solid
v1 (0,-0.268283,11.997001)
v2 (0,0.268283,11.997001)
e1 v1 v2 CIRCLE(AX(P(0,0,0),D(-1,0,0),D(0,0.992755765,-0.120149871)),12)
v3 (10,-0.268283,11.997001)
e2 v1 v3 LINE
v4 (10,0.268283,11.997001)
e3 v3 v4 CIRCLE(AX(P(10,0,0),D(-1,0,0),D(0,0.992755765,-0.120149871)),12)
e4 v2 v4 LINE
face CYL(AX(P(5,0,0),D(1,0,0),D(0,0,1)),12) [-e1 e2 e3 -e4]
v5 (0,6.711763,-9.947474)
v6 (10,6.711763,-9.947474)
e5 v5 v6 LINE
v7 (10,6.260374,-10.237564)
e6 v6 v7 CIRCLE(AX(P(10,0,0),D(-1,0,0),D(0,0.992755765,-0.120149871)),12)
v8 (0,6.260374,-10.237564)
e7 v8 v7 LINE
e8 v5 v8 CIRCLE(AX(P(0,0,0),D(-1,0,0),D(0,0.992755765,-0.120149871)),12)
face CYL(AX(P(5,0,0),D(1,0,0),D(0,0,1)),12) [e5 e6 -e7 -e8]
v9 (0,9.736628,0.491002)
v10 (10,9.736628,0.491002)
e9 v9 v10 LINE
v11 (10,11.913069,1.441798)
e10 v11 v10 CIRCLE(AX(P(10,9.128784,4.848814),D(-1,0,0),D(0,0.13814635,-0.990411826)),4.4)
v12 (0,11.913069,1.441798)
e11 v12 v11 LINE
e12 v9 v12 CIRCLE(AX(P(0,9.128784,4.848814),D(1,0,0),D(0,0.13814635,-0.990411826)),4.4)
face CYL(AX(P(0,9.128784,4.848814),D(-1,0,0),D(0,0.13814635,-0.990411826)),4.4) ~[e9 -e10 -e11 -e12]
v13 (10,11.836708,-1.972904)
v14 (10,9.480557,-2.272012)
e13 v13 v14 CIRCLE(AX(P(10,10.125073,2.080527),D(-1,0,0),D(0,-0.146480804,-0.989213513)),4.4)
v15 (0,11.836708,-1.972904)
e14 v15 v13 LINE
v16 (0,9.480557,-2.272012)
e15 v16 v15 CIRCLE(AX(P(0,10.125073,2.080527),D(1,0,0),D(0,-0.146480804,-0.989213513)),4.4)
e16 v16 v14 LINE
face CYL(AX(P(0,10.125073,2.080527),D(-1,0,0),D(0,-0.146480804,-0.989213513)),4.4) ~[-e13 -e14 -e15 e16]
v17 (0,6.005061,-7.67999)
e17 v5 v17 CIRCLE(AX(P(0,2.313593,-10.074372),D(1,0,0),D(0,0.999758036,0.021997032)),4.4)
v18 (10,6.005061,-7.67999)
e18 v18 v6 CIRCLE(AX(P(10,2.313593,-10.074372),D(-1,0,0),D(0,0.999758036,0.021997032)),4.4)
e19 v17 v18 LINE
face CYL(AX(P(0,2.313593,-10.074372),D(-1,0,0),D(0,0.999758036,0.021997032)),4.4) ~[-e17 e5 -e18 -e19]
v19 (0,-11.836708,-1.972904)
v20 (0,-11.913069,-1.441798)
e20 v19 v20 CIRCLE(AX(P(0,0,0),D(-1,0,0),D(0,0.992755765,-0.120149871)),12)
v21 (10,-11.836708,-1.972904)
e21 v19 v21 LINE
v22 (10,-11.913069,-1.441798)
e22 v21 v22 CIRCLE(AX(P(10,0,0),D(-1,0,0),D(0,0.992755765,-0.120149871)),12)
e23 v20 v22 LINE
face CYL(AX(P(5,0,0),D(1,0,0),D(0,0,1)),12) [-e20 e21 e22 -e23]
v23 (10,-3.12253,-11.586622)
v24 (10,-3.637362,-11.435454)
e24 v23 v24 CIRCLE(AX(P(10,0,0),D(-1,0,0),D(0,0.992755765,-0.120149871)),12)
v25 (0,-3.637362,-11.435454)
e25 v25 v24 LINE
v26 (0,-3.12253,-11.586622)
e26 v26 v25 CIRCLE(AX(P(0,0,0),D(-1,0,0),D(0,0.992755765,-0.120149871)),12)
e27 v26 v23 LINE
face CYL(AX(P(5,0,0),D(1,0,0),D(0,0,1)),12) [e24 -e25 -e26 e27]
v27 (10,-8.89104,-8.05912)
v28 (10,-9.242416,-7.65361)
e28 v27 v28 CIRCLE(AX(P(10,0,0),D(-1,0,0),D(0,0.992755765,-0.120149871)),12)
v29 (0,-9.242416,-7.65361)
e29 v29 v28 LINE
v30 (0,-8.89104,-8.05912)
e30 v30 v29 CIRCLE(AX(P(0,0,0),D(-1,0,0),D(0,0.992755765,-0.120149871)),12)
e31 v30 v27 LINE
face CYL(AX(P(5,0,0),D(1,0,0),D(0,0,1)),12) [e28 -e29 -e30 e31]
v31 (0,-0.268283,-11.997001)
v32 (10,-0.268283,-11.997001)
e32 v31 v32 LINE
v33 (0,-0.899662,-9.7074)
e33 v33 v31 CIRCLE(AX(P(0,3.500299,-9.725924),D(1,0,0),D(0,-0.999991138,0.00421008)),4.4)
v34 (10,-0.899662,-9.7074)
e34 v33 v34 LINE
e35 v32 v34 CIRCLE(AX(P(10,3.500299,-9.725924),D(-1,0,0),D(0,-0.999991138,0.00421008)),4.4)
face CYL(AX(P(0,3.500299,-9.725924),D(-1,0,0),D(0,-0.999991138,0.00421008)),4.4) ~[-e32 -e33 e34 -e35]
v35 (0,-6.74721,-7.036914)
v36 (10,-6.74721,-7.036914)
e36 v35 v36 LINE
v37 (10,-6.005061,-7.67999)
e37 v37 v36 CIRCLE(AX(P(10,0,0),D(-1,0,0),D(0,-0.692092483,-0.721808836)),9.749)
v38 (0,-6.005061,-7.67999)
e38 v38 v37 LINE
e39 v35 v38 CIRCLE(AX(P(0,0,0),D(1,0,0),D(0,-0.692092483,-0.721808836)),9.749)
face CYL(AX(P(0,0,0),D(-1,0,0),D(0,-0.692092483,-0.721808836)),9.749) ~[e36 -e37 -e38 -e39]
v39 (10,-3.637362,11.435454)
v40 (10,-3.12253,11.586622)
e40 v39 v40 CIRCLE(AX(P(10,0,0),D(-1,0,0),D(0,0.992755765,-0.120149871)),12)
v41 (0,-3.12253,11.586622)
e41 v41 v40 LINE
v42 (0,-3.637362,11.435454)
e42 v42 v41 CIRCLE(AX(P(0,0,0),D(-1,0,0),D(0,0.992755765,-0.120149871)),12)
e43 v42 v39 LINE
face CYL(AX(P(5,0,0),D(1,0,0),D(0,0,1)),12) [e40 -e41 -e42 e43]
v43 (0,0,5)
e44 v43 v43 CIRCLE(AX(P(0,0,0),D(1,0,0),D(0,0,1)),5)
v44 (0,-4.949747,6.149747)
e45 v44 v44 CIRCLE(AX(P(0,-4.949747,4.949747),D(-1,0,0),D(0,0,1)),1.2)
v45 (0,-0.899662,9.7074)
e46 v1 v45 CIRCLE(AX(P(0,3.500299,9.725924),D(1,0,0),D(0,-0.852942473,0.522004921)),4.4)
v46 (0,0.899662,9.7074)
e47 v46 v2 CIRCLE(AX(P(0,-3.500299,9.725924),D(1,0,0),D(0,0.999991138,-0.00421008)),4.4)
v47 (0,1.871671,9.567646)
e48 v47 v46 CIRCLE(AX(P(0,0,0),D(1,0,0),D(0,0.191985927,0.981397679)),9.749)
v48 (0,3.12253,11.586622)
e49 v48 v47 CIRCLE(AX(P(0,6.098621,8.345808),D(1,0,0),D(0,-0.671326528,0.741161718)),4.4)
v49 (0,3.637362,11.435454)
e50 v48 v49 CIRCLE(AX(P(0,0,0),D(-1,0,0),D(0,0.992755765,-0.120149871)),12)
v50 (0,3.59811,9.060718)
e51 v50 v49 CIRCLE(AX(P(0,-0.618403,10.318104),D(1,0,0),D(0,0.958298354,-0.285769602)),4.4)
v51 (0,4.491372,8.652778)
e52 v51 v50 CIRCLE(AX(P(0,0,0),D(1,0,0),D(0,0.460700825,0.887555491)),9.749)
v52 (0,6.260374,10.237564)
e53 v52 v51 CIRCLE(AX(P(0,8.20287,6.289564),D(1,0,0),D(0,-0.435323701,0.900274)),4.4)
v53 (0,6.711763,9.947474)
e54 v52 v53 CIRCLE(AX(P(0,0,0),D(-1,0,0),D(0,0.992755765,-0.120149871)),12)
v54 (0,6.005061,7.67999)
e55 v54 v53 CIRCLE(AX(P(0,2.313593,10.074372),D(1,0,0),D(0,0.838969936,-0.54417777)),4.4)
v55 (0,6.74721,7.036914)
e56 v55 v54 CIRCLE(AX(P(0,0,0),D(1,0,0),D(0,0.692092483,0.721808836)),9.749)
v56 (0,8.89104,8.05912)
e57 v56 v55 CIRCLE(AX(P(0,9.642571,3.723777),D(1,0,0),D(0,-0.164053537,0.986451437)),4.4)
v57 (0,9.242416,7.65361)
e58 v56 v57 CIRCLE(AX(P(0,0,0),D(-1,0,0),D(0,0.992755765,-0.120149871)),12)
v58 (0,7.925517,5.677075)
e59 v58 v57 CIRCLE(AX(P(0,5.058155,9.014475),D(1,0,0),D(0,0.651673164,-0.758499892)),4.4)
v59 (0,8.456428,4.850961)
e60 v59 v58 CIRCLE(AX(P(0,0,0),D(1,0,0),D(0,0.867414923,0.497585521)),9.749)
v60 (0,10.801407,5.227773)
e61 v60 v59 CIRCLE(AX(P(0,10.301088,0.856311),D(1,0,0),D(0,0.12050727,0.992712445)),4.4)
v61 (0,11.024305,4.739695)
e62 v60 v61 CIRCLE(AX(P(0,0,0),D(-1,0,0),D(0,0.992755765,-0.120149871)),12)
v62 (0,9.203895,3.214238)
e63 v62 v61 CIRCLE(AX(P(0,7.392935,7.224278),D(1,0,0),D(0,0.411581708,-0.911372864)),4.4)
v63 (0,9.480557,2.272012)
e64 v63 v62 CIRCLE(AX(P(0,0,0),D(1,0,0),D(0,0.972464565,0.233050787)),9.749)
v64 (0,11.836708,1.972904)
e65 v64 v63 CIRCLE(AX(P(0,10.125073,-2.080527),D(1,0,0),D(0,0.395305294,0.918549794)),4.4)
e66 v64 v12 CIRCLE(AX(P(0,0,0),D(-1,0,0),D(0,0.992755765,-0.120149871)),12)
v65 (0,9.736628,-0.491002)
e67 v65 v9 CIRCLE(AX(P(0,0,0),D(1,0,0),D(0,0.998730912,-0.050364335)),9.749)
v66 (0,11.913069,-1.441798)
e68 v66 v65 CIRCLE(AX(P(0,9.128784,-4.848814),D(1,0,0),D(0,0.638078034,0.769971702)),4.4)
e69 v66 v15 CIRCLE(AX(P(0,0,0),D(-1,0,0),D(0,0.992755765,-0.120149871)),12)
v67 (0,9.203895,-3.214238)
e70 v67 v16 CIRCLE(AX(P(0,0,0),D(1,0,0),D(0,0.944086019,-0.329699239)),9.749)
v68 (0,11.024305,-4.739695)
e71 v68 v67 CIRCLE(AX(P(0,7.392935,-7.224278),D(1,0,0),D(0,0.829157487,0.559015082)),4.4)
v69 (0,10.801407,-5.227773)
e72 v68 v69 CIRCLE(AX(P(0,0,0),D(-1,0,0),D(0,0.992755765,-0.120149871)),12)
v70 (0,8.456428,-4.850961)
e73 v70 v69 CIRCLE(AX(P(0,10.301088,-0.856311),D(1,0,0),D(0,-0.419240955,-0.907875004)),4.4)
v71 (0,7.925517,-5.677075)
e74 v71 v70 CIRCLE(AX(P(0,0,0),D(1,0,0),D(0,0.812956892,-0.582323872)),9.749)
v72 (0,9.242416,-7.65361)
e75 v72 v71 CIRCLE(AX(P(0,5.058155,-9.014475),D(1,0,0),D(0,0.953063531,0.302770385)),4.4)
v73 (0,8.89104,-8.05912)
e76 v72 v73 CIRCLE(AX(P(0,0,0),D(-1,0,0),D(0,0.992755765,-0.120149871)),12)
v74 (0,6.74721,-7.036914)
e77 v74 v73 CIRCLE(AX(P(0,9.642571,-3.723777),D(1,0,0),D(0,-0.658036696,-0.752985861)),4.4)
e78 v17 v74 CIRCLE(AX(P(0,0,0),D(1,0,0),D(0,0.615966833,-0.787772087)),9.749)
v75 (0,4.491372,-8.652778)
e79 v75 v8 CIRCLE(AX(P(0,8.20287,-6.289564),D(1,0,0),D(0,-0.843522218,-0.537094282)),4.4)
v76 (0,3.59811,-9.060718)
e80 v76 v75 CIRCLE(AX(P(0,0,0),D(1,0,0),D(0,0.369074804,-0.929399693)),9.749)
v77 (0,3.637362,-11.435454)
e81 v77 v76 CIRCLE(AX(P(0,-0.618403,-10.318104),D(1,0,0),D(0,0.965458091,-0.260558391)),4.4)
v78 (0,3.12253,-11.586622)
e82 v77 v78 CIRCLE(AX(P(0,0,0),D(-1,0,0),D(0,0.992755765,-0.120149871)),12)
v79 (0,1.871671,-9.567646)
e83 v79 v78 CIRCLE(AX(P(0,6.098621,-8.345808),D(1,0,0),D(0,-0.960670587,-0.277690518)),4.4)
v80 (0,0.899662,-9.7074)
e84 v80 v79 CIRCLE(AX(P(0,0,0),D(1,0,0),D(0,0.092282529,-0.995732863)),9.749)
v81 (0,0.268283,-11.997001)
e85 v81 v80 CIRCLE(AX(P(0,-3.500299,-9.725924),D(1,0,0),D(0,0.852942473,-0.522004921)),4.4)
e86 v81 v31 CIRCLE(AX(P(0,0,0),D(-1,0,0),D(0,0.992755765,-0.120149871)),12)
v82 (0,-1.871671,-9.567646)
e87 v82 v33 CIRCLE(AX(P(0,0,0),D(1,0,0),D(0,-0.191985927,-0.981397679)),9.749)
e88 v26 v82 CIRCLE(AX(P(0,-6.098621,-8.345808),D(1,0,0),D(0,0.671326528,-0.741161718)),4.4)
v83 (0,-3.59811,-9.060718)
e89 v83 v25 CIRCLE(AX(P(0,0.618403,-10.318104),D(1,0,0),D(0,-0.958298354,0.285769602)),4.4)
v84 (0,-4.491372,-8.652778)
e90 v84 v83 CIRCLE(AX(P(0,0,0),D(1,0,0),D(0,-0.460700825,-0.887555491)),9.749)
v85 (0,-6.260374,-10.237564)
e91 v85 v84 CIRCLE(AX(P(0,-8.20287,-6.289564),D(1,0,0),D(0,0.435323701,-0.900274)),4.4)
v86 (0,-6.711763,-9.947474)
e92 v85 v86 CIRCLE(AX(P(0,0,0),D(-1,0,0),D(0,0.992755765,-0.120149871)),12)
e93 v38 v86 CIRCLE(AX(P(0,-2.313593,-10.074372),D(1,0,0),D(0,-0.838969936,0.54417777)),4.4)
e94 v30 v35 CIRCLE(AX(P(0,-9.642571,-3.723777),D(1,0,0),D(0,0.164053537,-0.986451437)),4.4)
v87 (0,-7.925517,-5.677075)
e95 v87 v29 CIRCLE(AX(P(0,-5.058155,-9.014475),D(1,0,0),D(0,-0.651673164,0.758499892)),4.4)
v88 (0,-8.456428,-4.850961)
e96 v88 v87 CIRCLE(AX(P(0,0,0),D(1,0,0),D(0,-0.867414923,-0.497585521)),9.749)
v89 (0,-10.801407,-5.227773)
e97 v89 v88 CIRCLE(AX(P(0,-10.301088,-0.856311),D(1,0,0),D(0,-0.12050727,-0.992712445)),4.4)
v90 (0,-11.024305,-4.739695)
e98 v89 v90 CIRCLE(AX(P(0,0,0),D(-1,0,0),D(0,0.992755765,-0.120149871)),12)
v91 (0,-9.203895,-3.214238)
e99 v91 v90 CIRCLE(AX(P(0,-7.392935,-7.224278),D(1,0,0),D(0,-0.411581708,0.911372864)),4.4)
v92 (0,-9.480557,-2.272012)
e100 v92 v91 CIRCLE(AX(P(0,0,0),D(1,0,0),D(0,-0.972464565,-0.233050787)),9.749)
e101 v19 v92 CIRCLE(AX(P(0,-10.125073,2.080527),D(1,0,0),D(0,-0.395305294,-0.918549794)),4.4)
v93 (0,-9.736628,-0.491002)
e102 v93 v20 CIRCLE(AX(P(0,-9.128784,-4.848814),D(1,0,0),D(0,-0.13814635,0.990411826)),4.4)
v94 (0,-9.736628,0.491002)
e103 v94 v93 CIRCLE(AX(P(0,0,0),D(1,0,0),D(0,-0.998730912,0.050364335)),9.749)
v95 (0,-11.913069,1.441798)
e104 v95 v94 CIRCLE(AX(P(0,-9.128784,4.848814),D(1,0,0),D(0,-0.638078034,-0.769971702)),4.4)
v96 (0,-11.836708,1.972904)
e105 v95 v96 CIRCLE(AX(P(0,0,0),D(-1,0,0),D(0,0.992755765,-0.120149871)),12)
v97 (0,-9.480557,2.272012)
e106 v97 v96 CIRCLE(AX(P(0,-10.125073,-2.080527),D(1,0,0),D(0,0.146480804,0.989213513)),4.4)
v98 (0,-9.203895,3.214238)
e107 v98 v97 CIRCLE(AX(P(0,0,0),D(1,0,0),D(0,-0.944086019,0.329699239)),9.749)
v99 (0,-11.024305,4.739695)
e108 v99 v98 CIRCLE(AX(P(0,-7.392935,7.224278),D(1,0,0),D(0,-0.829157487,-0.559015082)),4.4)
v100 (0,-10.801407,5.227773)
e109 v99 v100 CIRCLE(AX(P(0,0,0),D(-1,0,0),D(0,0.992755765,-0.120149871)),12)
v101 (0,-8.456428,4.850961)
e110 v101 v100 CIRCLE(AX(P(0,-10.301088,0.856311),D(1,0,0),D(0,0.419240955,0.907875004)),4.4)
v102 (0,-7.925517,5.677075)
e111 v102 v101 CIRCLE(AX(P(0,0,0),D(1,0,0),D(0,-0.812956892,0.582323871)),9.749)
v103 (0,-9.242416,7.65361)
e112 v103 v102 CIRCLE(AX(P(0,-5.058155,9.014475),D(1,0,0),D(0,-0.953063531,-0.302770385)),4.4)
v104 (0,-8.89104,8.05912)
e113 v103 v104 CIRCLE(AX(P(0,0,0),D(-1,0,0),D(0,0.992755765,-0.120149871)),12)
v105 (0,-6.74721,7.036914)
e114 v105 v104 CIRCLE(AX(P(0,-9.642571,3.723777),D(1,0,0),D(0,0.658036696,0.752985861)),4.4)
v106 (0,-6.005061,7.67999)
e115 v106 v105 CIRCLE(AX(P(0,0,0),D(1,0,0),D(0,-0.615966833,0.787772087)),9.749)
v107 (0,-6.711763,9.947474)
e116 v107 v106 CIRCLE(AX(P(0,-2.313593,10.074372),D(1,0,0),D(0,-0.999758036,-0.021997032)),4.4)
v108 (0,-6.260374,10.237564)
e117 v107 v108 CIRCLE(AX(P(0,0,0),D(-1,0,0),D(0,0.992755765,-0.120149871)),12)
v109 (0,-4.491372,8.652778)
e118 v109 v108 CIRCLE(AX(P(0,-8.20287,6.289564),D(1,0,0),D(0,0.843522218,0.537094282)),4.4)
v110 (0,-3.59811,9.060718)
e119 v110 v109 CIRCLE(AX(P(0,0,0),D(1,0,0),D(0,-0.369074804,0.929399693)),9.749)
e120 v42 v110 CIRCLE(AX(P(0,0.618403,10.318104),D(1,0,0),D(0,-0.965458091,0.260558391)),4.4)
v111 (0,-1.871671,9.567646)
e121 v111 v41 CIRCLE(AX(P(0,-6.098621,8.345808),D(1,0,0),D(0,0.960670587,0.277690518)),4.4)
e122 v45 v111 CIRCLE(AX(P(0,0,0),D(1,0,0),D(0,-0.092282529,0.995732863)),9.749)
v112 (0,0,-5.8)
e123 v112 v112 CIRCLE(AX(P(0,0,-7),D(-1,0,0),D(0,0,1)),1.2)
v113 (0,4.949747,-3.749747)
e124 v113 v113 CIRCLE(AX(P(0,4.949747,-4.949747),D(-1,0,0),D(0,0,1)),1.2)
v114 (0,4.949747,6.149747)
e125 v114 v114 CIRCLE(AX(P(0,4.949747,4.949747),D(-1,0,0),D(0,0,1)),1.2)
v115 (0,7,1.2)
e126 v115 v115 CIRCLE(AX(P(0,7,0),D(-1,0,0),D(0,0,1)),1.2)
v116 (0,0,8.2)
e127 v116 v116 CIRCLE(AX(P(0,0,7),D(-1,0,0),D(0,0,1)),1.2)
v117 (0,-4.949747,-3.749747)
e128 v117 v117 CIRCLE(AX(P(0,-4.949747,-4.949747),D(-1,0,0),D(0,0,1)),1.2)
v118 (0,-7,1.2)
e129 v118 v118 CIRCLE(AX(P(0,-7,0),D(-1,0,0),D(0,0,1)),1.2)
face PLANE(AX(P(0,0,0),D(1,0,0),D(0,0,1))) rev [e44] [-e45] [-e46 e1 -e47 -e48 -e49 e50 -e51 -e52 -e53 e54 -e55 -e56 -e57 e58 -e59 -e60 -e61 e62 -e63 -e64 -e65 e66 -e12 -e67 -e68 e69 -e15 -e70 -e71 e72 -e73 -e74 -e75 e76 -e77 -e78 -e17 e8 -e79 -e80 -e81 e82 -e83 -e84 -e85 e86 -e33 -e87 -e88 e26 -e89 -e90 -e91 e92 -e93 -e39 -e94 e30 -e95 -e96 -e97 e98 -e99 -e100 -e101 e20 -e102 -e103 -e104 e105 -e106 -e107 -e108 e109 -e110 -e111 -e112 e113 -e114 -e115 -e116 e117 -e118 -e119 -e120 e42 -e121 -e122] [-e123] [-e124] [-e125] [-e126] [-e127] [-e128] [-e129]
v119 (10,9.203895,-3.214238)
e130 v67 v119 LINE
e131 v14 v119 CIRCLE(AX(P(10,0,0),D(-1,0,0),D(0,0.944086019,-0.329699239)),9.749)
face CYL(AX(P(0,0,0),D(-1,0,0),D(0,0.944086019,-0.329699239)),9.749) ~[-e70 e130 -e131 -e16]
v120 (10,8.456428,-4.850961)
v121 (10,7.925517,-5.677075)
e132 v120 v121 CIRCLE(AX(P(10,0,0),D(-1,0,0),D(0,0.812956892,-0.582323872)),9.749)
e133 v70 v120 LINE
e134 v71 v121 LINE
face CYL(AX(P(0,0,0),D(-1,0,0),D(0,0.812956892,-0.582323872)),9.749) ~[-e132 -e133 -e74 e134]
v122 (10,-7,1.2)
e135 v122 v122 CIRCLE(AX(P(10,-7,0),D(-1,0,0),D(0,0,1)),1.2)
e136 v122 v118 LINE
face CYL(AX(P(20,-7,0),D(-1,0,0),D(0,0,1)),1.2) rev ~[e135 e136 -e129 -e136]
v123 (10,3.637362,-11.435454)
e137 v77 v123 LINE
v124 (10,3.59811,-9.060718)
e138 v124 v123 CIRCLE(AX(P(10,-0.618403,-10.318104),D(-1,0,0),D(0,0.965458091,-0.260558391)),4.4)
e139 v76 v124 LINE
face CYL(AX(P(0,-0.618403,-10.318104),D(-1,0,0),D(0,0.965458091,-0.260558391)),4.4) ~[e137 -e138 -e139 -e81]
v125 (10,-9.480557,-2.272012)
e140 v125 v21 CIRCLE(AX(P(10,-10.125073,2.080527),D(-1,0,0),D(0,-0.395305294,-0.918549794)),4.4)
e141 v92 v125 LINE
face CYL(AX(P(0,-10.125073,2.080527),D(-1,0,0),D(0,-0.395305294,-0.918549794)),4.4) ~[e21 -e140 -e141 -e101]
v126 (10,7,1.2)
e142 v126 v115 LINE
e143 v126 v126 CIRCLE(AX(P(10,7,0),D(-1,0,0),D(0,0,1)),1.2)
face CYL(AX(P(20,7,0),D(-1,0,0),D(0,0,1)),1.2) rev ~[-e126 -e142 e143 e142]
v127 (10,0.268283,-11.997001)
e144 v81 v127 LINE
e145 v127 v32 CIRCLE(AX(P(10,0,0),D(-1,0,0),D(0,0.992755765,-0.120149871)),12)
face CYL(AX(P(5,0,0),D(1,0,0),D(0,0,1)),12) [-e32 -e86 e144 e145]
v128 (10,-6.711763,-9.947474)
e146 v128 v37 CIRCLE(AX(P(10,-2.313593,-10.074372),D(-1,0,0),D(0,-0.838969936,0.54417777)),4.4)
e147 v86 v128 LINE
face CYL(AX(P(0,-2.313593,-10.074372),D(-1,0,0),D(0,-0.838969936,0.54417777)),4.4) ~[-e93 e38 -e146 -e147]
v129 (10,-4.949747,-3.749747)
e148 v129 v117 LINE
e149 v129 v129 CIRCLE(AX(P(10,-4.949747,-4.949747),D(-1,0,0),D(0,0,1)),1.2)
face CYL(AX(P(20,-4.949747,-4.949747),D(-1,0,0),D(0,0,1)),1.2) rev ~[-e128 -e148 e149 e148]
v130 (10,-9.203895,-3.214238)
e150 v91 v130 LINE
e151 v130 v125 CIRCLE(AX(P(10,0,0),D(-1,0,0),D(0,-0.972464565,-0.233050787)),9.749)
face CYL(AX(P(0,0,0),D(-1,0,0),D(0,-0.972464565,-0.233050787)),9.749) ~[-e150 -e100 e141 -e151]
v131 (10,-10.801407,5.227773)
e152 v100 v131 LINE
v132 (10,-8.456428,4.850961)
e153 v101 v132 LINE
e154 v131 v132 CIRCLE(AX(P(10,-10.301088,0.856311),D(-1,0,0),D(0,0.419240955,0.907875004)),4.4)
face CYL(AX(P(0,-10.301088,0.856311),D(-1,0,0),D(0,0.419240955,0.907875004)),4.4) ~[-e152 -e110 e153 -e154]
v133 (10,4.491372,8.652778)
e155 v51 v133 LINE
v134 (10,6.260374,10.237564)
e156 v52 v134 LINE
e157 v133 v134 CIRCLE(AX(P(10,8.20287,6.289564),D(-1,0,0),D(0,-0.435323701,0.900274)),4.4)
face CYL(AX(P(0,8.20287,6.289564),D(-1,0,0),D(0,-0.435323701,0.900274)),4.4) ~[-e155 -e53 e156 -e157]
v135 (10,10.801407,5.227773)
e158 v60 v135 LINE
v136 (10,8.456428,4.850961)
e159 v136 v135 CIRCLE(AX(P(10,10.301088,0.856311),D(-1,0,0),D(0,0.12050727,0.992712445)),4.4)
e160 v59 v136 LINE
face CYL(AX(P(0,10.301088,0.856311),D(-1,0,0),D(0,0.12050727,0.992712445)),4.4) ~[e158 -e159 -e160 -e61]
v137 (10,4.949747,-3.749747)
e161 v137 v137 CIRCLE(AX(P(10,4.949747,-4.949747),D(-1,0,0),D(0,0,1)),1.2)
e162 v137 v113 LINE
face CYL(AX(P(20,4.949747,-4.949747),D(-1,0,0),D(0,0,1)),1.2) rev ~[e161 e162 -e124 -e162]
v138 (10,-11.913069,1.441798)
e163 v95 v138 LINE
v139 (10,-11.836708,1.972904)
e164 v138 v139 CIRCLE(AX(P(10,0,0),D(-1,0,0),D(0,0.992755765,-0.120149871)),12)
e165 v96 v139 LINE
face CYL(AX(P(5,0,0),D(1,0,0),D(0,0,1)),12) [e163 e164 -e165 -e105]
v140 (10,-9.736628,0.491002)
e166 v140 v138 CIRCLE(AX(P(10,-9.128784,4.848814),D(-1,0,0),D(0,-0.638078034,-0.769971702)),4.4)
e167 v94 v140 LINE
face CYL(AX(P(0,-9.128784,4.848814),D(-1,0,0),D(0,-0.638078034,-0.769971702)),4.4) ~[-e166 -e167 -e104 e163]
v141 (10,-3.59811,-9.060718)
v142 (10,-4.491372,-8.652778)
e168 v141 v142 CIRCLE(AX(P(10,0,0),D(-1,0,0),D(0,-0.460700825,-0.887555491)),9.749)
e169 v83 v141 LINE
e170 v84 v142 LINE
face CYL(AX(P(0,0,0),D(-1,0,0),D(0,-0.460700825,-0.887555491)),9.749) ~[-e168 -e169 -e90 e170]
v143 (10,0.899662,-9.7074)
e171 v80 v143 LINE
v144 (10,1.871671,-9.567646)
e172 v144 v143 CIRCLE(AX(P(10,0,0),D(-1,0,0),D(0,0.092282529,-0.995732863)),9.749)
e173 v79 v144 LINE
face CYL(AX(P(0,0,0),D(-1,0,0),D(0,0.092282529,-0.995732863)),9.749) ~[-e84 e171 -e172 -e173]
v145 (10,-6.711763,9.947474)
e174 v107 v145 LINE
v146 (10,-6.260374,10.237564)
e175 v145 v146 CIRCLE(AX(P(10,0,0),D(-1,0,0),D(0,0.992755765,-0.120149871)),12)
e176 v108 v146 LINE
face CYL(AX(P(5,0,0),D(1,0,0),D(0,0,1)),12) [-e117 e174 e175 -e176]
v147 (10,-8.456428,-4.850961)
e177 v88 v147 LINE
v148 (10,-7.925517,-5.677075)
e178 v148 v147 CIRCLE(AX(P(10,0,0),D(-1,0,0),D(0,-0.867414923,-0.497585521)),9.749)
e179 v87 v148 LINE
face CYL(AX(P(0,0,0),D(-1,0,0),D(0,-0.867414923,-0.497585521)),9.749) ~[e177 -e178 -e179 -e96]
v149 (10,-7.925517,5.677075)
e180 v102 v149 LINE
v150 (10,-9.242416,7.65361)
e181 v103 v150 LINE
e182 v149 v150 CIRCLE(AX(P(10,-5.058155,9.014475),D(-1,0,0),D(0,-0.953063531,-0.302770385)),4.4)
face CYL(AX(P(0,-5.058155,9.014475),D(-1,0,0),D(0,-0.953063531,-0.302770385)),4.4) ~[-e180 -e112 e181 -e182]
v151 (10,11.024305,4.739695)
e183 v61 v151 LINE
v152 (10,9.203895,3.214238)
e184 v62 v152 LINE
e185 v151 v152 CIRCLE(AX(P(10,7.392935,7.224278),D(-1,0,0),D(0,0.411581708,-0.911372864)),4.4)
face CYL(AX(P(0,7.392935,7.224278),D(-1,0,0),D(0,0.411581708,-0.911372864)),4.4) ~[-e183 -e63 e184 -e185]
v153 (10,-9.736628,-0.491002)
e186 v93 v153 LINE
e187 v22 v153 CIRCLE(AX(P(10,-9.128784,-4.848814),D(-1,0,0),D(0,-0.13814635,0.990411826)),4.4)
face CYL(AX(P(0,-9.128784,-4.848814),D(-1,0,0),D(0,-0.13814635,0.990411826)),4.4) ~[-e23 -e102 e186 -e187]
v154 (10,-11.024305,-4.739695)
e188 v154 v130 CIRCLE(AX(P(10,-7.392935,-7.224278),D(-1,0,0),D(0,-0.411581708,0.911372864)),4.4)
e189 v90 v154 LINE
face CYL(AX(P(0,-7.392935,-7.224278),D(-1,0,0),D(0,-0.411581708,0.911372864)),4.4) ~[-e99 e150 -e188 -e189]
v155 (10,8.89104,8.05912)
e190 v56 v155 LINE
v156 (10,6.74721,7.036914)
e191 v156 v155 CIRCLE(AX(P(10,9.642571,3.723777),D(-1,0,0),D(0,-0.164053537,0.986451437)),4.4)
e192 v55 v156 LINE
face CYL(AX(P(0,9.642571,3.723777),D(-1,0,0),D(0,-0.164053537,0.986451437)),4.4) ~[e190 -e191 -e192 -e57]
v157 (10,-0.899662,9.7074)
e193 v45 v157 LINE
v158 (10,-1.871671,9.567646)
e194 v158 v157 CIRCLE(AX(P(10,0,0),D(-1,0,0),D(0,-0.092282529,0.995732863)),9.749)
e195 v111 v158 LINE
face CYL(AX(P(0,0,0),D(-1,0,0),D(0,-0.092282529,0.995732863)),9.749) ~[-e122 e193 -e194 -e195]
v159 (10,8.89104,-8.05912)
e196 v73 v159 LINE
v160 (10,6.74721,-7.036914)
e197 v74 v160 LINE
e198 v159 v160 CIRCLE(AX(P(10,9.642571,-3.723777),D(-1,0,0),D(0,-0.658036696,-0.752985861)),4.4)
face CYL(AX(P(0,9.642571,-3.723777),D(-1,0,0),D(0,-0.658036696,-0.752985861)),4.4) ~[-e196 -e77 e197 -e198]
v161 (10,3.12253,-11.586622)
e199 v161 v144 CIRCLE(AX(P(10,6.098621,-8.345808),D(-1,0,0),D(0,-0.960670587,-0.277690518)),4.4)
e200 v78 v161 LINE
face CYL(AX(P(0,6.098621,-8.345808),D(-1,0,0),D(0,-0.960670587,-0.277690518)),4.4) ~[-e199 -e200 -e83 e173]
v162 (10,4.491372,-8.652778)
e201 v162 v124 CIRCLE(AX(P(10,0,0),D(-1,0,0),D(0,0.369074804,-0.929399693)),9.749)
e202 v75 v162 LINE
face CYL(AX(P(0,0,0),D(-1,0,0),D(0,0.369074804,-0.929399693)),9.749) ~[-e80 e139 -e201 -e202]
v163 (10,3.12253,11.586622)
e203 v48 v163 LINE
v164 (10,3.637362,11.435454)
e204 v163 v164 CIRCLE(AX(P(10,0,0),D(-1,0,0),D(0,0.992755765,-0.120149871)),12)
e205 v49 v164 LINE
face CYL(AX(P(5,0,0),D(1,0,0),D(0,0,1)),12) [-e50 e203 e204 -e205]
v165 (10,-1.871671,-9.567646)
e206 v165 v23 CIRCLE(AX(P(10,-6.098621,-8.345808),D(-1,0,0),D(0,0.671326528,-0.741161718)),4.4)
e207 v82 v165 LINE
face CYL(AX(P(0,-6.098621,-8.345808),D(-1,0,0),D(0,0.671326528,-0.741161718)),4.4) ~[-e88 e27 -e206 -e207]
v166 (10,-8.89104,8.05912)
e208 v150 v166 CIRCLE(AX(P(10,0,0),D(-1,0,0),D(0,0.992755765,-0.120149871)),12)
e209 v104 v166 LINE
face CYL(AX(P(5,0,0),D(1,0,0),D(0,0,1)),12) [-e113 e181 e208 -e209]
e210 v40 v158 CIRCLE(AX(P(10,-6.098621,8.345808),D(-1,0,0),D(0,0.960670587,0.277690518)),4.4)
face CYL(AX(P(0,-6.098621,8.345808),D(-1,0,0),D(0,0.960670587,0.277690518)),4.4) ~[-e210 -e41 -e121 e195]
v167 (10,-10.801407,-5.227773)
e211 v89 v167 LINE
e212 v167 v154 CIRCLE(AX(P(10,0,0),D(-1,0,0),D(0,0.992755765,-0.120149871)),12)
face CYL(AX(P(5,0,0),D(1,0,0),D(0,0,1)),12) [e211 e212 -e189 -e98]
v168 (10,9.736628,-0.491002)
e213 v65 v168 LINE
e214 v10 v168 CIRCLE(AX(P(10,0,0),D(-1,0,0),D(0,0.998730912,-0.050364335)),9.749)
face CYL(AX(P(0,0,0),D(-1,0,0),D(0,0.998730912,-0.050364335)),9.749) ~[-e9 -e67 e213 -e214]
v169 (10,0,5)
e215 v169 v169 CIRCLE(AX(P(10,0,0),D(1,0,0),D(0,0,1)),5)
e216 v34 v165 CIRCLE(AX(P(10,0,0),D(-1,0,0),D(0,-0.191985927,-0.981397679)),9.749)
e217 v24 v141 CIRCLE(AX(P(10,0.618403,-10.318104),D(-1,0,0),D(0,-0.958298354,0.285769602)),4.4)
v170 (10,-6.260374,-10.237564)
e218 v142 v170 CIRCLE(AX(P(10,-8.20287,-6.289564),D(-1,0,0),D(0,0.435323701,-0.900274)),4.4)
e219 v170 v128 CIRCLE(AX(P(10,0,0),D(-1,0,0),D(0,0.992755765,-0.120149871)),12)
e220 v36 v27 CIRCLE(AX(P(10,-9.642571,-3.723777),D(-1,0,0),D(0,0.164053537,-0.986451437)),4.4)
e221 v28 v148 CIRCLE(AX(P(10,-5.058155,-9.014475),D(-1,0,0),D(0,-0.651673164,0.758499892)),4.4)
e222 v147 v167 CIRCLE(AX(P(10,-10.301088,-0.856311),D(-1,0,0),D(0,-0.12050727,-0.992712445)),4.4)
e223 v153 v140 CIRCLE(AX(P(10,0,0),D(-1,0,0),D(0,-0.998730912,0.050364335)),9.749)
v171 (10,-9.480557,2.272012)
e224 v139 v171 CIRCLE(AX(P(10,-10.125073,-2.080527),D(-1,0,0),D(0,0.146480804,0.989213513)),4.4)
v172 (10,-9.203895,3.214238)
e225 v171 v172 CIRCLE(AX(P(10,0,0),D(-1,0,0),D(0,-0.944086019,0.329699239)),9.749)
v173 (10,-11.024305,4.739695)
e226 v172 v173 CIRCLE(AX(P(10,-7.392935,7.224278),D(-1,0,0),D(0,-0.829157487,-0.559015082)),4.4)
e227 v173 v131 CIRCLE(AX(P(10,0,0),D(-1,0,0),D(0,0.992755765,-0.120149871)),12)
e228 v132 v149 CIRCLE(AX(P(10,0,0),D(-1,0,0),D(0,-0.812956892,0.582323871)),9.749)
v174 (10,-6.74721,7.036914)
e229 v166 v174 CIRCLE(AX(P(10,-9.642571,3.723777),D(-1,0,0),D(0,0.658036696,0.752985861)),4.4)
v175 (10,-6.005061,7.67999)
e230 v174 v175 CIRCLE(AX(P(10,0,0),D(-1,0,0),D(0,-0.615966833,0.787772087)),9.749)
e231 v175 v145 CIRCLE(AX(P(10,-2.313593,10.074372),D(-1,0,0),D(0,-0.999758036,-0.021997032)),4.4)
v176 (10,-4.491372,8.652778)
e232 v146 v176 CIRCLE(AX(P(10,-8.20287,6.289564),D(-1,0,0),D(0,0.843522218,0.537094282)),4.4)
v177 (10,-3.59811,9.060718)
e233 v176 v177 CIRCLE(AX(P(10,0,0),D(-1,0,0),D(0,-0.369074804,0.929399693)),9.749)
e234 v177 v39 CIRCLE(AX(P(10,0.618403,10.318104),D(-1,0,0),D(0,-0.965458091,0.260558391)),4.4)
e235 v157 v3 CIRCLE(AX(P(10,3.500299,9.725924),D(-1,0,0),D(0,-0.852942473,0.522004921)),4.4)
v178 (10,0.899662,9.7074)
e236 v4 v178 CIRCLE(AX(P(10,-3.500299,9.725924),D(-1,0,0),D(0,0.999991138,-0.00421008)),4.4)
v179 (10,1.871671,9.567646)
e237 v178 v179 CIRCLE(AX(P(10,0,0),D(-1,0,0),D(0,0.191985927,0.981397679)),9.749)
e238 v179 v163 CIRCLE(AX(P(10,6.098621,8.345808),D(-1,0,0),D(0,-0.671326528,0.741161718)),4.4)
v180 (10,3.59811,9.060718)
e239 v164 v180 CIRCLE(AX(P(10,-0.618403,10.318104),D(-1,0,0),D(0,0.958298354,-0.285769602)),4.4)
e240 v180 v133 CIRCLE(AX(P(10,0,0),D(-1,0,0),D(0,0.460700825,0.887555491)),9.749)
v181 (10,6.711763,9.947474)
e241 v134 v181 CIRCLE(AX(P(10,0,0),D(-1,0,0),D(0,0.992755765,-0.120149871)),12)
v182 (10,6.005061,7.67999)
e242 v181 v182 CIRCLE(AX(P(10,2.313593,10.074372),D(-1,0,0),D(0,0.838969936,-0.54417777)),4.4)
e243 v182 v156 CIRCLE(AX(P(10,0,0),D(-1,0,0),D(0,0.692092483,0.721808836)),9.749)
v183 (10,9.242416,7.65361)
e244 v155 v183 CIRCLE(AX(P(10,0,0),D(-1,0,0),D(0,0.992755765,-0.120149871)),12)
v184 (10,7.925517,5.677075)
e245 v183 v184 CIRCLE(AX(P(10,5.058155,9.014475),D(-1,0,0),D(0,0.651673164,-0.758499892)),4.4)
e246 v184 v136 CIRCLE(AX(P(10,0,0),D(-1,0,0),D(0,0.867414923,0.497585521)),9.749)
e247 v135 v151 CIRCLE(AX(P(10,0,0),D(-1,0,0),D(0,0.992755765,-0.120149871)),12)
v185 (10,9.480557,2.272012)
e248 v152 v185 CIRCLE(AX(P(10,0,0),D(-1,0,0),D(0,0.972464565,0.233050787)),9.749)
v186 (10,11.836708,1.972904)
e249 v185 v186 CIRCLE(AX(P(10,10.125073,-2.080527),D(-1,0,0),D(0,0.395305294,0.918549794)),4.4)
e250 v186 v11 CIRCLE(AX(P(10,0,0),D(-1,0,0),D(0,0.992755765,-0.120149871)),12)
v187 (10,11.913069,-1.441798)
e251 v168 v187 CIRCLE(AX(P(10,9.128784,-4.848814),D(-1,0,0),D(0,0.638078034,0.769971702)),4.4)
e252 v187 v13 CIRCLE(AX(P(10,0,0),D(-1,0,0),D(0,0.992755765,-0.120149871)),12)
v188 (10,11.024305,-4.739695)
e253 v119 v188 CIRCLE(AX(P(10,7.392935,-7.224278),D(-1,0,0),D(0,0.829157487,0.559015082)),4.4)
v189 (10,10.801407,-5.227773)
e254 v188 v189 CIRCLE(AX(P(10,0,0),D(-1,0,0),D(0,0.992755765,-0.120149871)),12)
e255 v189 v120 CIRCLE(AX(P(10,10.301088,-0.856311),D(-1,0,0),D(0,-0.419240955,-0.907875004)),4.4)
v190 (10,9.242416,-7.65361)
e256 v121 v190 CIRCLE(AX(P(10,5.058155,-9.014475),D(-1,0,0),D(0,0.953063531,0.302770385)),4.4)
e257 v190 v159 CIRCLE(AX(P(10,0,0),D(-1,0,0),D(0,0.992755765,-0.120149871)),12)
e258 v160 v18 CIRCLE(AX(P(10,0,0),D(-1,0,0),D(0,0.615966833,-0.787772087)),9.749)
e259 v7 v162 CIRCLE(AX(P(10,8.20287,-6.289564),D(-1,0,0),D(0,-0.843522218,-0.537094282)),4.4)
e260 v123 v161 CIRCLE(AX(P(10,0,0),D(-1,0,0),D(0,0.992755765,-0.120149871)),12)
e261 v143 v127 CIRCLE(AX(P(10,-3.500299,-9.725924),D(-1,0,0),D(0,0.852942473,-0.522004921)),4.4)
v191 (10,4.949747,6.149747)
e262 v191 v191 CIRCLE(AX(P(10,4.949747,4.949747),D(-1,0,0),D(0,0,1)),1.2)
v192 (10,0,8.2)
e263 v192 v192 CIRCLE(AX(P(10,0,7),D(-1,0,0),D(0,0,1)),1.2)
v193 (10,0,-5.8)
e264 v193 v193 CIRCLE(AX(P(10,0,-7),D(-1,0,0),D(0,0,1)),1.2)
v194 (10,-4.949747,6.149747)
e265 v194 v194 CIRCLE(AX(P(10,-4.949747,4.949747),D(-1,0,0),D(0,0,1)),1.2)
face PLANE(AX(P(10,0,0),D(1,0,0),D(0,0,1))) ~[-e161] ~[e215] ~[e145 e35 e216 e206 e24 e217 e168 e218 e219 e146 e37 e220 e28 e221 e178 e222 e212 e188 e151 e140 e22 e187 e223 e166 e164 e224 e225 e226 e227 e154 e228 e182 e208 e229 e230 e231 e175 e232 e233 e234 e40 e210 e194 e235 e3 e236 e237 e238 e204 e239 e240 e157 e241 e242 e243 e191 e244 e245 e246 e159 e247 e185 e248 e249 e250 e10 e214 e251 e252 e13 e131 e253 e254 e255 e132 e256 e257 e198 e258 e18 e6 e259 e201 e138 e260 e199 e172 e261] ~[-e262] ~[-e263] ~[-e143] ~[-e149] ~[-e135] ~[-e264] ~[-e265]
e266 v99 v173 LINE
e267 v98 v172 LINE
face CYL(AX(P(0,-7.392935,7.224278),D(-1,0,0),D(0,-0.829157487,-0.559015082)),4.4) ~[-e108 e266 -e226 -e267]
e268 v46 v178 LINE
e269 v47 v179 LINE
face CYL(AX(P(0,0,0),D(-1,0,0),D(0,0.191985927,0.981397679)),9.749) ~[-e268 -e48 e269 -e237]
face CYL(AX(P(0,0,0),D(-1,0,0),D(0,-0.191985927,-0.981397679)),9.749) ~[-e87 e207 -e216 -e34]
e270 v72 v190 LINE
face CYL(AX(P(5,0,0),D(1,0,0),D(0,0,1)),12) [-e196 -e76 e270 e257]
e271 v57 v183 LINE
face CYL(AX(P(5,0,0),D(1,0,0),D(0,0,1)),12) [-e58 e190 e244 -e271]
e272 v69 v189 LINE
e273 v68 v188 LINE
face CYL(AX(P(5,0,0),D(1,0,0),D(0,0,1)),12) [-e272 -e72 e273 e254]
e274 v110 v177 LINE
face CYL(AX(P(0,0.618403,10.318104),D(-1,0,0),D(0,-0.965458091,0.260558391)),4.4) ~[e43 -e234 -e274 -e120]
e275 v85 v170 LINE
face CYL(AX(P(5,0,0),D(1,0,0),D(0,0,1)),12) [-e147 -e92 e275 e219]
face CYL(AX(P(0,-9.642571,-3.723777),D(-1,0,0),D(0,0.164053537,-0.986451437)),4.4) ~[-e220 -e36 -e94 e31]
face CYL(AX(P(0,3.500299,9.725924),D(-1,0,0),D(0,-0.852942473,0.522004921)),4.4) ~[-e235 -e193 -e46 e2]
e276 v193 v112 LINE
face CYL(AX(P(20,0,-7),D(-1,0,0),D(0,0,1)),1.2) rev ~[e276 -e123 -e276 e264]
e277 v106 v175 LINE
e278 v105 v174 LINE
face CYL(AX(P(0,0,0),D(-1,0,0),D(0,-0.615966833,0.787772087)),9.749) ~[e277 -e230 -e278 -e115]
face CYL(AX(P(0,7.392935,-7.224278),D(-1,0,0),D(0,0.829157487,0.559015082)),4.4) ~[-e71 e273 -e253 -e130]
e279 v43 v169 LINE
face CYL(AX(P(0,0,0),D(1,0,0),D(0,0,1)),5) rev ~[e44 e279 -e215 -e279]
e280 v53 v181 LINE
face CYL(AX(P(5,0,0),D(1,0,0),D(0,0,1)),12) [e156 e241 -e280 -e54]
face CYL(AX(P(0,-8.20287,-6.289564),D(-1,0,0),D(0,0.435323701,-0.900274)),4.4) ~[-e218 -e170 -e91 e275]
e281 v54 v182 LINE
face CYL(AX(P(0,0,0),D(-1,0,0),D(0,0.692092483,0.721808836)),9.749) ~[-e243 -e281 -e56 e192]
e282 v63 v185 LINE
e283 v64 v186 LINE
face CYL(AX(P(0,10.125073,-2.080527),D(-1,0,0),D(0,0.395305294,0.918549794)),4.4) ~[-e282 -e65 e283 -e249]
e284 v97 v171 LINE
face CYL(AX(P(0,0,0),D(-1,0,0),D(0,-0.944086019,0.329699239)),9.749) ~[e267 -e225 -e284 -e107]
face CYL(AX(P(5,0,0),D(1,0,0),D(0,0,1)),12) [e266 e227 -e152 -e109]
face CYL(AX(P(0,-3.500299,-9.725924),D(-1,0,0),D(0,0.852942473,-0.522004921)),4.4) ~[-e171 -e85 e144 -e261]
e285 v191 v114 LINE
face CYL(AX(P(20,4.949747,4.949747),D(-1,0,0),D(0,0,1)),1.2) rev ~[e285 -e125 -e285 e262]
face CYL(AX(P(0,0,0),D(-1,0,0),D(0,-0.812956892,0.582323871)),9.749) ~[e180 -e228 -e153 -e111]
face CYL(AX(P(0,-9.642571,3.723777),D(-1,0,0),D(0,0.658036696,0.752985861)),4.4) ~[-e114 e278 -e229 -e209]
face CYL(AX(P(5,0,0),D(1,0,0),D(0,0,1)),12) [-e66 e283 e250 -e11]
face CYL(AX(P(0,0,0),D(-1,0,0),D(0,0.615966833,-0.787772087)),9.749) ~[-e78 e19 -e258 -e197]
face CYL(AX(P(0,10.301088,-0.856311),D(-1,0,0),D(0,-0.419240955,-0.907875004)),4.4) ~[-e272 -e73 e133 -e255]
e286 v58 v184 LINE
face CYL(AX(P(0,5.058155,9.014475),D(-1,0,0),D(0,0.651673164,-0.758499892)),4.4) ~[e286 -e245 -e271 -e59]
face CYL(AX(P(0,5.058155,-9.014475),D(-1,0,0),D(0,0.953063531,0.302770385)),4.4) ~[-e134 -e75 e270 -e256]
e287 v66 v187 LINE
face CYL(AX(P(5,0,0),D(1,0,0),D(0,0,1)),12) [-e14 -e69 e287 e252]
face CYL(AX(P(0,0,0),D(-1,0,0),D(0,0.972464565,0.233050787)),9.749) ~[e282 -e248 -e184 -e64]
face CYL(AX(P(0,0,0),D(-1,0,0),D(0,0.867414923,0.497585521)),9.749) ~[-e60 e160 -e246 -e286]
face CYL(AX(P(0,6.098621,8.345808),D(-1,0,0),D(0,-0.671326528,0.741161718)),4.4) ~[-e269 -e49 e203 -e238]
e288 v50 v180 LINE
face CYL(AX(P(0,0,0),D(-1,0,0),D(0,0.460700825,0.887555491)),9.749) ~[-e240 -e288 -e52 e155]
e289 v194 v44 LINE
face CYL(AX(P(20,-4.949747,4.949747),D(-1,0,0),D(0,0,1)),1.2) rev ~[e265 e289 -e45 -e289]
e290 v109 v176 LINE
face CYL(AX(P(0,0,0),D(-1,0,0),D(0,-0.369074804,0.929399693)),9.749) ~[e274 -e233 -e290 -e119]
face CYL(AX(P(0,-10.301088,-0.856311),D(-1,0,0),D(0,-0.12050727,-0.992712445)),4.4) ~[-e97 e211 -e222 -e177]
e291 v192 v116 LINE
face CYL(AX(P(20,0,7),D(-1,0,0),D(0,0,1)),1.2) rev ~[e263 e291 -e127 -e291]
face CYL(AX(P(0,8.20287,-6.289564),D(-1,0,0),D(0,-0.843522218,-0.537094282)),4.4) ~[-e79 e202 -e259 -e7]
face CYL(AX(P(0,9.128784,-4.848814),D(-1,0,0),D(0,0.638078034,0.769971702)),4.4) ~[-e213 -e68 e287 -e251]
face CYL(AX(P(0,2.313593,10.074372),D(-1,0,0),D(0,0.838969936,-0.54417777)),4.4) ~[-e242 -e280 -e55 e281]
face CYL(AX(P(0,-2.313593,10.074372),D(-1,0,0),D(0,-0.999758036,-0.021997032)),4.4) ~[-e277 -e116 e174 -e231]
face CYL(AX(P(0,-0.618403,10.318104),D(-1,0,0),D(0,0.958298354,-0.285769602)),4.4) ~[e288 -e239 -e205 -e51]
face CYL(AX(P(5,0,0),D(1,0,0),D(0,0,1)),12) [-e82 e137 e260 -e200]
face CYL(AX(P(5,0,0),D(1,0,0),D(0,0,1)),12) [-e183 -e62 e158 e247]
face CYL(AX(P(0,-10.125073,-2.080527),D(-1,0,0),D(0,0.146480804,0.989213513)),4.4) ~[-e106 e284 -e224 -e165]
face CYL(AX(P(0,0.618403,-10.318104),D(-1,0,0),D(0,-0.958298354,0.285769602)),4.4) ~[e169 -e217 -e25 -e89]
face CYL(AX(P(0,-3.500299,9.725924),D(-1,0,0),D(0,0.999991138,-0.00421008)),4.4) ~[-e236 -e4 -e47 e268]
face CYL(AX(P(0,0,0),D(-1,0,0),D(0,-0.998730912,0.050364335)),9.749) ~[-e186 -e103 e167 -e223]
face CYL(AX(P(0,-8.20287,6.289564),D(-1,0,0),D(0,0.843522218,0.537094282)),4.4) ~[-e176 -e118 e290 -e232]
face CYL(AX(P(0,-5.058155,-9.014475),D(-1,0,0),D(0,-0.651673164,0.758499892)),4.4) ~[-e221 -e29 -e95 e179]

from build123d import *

# Parameters (mm, degrees)
BASPROSKE_W          = 10
BASPROSKE_H          = 12
TOOTHCUT_DEPTH       = 20.697715604
TEETHCUTS_COUNT      = 22
TEETHCUTS_ANGLE      = 343.636363636
BORSKE_R             = 5
BORE_DEPTH           = 50.0000508
D_GAGEMENT_M21_D     = 2.4
D_GAGEMENT_M21_DEPTH = 10


with BuildPart() as part:
    # BasProSke → Base-Revolve (revolve)
    with BuildSketch(Plane(origin=(0, 0, 0), x_dir=(1, 0, 0), z_dir=(0, 1, 0)), mode=Mode.PRIVATE) as base_revolve_sk:
        with Locations((5, 6)):
            Rectangle(BASPROSKE_W, BASPROSKE_H)
    revolve(base_revolve_sk.sketch.rotate(Axis((-10, 0, 0), (1, 0, 0)), 180), axis=Axis((-10, 0, 0), (1, 0, 0)))

    # TooCutSke → ToothCut (cut, through all)
    with BuildSketch(Plane(origin=(0, 0, 0), x_dir=(0, 0, -1), z_dir=(1, 0, 0))):
        with BuildLine():
            ThreePointArc((0.491001901, 9.736627657), (0, 9.749), (-0.491001901, 9.736627657))
            ThreePointArc((-0.491001901, 9.736627657), (-0.822824844, 10.904005344), (-1.46093845, 11.936327074))
            ThreePointArc((-1.46093845, 11.936327074), (0, 12.0254), (1.46093845, 11.936327074))
            ThreePointArc((1.46093845, 11.936327074), (0.822824844, 10.904005344), (0.491001901, 9.736627657))
        make_face()
    toothcut = extrude(amount=TOOTHCUT_DEPTH, mode=Mode.SUBTRACT)

    # TeethCuts: ToothCut ×22 about axis
    teethcuts_axis = Axis((-10, 0, 0), (1, 0, 0))
    for i in range(1, TEETHCUTS_COUNT):
        add(toothcut.rotate(teethcuts_axis, i * TEETHCUTS_ANGLE / (TEETHCUTS_COUNT - 1)), mode=Mode.SUBTRACT)

    # BorSke → Bore (cut, symmetric)
    with BuildSketch(Plane(origin=(0, 0, 0), x_dir=(0, 0, -1), z_dir=(1, 0, 0))):
        with Locations(Location((0, 0, 0), (0, 0, 180))):
            Circle(BORSKE_R)
    extrude(amount=BORE_DEPTH, both=True, mode=Mode.SUBTRACT)

    # Dégagement M21
    with Locations(Plane(origin=(10, 0, 0), x_dir=(0, 0, -1), z_dir=(1, 0, 0))):
        with Locations((0, 7), (4.949747468, 4.949747468), (7, 0), (4.949747468, -4.949747468), (0, -7), (-4.949747468, -4.949747468), (-7, 0), (-4.949747468, 4.949747468), (0, 0)):
            Hole(D_GAGEMENT_M21_D / 2, depth=D_GAGEMENT_M21_DEPTH)


solid = part.part
